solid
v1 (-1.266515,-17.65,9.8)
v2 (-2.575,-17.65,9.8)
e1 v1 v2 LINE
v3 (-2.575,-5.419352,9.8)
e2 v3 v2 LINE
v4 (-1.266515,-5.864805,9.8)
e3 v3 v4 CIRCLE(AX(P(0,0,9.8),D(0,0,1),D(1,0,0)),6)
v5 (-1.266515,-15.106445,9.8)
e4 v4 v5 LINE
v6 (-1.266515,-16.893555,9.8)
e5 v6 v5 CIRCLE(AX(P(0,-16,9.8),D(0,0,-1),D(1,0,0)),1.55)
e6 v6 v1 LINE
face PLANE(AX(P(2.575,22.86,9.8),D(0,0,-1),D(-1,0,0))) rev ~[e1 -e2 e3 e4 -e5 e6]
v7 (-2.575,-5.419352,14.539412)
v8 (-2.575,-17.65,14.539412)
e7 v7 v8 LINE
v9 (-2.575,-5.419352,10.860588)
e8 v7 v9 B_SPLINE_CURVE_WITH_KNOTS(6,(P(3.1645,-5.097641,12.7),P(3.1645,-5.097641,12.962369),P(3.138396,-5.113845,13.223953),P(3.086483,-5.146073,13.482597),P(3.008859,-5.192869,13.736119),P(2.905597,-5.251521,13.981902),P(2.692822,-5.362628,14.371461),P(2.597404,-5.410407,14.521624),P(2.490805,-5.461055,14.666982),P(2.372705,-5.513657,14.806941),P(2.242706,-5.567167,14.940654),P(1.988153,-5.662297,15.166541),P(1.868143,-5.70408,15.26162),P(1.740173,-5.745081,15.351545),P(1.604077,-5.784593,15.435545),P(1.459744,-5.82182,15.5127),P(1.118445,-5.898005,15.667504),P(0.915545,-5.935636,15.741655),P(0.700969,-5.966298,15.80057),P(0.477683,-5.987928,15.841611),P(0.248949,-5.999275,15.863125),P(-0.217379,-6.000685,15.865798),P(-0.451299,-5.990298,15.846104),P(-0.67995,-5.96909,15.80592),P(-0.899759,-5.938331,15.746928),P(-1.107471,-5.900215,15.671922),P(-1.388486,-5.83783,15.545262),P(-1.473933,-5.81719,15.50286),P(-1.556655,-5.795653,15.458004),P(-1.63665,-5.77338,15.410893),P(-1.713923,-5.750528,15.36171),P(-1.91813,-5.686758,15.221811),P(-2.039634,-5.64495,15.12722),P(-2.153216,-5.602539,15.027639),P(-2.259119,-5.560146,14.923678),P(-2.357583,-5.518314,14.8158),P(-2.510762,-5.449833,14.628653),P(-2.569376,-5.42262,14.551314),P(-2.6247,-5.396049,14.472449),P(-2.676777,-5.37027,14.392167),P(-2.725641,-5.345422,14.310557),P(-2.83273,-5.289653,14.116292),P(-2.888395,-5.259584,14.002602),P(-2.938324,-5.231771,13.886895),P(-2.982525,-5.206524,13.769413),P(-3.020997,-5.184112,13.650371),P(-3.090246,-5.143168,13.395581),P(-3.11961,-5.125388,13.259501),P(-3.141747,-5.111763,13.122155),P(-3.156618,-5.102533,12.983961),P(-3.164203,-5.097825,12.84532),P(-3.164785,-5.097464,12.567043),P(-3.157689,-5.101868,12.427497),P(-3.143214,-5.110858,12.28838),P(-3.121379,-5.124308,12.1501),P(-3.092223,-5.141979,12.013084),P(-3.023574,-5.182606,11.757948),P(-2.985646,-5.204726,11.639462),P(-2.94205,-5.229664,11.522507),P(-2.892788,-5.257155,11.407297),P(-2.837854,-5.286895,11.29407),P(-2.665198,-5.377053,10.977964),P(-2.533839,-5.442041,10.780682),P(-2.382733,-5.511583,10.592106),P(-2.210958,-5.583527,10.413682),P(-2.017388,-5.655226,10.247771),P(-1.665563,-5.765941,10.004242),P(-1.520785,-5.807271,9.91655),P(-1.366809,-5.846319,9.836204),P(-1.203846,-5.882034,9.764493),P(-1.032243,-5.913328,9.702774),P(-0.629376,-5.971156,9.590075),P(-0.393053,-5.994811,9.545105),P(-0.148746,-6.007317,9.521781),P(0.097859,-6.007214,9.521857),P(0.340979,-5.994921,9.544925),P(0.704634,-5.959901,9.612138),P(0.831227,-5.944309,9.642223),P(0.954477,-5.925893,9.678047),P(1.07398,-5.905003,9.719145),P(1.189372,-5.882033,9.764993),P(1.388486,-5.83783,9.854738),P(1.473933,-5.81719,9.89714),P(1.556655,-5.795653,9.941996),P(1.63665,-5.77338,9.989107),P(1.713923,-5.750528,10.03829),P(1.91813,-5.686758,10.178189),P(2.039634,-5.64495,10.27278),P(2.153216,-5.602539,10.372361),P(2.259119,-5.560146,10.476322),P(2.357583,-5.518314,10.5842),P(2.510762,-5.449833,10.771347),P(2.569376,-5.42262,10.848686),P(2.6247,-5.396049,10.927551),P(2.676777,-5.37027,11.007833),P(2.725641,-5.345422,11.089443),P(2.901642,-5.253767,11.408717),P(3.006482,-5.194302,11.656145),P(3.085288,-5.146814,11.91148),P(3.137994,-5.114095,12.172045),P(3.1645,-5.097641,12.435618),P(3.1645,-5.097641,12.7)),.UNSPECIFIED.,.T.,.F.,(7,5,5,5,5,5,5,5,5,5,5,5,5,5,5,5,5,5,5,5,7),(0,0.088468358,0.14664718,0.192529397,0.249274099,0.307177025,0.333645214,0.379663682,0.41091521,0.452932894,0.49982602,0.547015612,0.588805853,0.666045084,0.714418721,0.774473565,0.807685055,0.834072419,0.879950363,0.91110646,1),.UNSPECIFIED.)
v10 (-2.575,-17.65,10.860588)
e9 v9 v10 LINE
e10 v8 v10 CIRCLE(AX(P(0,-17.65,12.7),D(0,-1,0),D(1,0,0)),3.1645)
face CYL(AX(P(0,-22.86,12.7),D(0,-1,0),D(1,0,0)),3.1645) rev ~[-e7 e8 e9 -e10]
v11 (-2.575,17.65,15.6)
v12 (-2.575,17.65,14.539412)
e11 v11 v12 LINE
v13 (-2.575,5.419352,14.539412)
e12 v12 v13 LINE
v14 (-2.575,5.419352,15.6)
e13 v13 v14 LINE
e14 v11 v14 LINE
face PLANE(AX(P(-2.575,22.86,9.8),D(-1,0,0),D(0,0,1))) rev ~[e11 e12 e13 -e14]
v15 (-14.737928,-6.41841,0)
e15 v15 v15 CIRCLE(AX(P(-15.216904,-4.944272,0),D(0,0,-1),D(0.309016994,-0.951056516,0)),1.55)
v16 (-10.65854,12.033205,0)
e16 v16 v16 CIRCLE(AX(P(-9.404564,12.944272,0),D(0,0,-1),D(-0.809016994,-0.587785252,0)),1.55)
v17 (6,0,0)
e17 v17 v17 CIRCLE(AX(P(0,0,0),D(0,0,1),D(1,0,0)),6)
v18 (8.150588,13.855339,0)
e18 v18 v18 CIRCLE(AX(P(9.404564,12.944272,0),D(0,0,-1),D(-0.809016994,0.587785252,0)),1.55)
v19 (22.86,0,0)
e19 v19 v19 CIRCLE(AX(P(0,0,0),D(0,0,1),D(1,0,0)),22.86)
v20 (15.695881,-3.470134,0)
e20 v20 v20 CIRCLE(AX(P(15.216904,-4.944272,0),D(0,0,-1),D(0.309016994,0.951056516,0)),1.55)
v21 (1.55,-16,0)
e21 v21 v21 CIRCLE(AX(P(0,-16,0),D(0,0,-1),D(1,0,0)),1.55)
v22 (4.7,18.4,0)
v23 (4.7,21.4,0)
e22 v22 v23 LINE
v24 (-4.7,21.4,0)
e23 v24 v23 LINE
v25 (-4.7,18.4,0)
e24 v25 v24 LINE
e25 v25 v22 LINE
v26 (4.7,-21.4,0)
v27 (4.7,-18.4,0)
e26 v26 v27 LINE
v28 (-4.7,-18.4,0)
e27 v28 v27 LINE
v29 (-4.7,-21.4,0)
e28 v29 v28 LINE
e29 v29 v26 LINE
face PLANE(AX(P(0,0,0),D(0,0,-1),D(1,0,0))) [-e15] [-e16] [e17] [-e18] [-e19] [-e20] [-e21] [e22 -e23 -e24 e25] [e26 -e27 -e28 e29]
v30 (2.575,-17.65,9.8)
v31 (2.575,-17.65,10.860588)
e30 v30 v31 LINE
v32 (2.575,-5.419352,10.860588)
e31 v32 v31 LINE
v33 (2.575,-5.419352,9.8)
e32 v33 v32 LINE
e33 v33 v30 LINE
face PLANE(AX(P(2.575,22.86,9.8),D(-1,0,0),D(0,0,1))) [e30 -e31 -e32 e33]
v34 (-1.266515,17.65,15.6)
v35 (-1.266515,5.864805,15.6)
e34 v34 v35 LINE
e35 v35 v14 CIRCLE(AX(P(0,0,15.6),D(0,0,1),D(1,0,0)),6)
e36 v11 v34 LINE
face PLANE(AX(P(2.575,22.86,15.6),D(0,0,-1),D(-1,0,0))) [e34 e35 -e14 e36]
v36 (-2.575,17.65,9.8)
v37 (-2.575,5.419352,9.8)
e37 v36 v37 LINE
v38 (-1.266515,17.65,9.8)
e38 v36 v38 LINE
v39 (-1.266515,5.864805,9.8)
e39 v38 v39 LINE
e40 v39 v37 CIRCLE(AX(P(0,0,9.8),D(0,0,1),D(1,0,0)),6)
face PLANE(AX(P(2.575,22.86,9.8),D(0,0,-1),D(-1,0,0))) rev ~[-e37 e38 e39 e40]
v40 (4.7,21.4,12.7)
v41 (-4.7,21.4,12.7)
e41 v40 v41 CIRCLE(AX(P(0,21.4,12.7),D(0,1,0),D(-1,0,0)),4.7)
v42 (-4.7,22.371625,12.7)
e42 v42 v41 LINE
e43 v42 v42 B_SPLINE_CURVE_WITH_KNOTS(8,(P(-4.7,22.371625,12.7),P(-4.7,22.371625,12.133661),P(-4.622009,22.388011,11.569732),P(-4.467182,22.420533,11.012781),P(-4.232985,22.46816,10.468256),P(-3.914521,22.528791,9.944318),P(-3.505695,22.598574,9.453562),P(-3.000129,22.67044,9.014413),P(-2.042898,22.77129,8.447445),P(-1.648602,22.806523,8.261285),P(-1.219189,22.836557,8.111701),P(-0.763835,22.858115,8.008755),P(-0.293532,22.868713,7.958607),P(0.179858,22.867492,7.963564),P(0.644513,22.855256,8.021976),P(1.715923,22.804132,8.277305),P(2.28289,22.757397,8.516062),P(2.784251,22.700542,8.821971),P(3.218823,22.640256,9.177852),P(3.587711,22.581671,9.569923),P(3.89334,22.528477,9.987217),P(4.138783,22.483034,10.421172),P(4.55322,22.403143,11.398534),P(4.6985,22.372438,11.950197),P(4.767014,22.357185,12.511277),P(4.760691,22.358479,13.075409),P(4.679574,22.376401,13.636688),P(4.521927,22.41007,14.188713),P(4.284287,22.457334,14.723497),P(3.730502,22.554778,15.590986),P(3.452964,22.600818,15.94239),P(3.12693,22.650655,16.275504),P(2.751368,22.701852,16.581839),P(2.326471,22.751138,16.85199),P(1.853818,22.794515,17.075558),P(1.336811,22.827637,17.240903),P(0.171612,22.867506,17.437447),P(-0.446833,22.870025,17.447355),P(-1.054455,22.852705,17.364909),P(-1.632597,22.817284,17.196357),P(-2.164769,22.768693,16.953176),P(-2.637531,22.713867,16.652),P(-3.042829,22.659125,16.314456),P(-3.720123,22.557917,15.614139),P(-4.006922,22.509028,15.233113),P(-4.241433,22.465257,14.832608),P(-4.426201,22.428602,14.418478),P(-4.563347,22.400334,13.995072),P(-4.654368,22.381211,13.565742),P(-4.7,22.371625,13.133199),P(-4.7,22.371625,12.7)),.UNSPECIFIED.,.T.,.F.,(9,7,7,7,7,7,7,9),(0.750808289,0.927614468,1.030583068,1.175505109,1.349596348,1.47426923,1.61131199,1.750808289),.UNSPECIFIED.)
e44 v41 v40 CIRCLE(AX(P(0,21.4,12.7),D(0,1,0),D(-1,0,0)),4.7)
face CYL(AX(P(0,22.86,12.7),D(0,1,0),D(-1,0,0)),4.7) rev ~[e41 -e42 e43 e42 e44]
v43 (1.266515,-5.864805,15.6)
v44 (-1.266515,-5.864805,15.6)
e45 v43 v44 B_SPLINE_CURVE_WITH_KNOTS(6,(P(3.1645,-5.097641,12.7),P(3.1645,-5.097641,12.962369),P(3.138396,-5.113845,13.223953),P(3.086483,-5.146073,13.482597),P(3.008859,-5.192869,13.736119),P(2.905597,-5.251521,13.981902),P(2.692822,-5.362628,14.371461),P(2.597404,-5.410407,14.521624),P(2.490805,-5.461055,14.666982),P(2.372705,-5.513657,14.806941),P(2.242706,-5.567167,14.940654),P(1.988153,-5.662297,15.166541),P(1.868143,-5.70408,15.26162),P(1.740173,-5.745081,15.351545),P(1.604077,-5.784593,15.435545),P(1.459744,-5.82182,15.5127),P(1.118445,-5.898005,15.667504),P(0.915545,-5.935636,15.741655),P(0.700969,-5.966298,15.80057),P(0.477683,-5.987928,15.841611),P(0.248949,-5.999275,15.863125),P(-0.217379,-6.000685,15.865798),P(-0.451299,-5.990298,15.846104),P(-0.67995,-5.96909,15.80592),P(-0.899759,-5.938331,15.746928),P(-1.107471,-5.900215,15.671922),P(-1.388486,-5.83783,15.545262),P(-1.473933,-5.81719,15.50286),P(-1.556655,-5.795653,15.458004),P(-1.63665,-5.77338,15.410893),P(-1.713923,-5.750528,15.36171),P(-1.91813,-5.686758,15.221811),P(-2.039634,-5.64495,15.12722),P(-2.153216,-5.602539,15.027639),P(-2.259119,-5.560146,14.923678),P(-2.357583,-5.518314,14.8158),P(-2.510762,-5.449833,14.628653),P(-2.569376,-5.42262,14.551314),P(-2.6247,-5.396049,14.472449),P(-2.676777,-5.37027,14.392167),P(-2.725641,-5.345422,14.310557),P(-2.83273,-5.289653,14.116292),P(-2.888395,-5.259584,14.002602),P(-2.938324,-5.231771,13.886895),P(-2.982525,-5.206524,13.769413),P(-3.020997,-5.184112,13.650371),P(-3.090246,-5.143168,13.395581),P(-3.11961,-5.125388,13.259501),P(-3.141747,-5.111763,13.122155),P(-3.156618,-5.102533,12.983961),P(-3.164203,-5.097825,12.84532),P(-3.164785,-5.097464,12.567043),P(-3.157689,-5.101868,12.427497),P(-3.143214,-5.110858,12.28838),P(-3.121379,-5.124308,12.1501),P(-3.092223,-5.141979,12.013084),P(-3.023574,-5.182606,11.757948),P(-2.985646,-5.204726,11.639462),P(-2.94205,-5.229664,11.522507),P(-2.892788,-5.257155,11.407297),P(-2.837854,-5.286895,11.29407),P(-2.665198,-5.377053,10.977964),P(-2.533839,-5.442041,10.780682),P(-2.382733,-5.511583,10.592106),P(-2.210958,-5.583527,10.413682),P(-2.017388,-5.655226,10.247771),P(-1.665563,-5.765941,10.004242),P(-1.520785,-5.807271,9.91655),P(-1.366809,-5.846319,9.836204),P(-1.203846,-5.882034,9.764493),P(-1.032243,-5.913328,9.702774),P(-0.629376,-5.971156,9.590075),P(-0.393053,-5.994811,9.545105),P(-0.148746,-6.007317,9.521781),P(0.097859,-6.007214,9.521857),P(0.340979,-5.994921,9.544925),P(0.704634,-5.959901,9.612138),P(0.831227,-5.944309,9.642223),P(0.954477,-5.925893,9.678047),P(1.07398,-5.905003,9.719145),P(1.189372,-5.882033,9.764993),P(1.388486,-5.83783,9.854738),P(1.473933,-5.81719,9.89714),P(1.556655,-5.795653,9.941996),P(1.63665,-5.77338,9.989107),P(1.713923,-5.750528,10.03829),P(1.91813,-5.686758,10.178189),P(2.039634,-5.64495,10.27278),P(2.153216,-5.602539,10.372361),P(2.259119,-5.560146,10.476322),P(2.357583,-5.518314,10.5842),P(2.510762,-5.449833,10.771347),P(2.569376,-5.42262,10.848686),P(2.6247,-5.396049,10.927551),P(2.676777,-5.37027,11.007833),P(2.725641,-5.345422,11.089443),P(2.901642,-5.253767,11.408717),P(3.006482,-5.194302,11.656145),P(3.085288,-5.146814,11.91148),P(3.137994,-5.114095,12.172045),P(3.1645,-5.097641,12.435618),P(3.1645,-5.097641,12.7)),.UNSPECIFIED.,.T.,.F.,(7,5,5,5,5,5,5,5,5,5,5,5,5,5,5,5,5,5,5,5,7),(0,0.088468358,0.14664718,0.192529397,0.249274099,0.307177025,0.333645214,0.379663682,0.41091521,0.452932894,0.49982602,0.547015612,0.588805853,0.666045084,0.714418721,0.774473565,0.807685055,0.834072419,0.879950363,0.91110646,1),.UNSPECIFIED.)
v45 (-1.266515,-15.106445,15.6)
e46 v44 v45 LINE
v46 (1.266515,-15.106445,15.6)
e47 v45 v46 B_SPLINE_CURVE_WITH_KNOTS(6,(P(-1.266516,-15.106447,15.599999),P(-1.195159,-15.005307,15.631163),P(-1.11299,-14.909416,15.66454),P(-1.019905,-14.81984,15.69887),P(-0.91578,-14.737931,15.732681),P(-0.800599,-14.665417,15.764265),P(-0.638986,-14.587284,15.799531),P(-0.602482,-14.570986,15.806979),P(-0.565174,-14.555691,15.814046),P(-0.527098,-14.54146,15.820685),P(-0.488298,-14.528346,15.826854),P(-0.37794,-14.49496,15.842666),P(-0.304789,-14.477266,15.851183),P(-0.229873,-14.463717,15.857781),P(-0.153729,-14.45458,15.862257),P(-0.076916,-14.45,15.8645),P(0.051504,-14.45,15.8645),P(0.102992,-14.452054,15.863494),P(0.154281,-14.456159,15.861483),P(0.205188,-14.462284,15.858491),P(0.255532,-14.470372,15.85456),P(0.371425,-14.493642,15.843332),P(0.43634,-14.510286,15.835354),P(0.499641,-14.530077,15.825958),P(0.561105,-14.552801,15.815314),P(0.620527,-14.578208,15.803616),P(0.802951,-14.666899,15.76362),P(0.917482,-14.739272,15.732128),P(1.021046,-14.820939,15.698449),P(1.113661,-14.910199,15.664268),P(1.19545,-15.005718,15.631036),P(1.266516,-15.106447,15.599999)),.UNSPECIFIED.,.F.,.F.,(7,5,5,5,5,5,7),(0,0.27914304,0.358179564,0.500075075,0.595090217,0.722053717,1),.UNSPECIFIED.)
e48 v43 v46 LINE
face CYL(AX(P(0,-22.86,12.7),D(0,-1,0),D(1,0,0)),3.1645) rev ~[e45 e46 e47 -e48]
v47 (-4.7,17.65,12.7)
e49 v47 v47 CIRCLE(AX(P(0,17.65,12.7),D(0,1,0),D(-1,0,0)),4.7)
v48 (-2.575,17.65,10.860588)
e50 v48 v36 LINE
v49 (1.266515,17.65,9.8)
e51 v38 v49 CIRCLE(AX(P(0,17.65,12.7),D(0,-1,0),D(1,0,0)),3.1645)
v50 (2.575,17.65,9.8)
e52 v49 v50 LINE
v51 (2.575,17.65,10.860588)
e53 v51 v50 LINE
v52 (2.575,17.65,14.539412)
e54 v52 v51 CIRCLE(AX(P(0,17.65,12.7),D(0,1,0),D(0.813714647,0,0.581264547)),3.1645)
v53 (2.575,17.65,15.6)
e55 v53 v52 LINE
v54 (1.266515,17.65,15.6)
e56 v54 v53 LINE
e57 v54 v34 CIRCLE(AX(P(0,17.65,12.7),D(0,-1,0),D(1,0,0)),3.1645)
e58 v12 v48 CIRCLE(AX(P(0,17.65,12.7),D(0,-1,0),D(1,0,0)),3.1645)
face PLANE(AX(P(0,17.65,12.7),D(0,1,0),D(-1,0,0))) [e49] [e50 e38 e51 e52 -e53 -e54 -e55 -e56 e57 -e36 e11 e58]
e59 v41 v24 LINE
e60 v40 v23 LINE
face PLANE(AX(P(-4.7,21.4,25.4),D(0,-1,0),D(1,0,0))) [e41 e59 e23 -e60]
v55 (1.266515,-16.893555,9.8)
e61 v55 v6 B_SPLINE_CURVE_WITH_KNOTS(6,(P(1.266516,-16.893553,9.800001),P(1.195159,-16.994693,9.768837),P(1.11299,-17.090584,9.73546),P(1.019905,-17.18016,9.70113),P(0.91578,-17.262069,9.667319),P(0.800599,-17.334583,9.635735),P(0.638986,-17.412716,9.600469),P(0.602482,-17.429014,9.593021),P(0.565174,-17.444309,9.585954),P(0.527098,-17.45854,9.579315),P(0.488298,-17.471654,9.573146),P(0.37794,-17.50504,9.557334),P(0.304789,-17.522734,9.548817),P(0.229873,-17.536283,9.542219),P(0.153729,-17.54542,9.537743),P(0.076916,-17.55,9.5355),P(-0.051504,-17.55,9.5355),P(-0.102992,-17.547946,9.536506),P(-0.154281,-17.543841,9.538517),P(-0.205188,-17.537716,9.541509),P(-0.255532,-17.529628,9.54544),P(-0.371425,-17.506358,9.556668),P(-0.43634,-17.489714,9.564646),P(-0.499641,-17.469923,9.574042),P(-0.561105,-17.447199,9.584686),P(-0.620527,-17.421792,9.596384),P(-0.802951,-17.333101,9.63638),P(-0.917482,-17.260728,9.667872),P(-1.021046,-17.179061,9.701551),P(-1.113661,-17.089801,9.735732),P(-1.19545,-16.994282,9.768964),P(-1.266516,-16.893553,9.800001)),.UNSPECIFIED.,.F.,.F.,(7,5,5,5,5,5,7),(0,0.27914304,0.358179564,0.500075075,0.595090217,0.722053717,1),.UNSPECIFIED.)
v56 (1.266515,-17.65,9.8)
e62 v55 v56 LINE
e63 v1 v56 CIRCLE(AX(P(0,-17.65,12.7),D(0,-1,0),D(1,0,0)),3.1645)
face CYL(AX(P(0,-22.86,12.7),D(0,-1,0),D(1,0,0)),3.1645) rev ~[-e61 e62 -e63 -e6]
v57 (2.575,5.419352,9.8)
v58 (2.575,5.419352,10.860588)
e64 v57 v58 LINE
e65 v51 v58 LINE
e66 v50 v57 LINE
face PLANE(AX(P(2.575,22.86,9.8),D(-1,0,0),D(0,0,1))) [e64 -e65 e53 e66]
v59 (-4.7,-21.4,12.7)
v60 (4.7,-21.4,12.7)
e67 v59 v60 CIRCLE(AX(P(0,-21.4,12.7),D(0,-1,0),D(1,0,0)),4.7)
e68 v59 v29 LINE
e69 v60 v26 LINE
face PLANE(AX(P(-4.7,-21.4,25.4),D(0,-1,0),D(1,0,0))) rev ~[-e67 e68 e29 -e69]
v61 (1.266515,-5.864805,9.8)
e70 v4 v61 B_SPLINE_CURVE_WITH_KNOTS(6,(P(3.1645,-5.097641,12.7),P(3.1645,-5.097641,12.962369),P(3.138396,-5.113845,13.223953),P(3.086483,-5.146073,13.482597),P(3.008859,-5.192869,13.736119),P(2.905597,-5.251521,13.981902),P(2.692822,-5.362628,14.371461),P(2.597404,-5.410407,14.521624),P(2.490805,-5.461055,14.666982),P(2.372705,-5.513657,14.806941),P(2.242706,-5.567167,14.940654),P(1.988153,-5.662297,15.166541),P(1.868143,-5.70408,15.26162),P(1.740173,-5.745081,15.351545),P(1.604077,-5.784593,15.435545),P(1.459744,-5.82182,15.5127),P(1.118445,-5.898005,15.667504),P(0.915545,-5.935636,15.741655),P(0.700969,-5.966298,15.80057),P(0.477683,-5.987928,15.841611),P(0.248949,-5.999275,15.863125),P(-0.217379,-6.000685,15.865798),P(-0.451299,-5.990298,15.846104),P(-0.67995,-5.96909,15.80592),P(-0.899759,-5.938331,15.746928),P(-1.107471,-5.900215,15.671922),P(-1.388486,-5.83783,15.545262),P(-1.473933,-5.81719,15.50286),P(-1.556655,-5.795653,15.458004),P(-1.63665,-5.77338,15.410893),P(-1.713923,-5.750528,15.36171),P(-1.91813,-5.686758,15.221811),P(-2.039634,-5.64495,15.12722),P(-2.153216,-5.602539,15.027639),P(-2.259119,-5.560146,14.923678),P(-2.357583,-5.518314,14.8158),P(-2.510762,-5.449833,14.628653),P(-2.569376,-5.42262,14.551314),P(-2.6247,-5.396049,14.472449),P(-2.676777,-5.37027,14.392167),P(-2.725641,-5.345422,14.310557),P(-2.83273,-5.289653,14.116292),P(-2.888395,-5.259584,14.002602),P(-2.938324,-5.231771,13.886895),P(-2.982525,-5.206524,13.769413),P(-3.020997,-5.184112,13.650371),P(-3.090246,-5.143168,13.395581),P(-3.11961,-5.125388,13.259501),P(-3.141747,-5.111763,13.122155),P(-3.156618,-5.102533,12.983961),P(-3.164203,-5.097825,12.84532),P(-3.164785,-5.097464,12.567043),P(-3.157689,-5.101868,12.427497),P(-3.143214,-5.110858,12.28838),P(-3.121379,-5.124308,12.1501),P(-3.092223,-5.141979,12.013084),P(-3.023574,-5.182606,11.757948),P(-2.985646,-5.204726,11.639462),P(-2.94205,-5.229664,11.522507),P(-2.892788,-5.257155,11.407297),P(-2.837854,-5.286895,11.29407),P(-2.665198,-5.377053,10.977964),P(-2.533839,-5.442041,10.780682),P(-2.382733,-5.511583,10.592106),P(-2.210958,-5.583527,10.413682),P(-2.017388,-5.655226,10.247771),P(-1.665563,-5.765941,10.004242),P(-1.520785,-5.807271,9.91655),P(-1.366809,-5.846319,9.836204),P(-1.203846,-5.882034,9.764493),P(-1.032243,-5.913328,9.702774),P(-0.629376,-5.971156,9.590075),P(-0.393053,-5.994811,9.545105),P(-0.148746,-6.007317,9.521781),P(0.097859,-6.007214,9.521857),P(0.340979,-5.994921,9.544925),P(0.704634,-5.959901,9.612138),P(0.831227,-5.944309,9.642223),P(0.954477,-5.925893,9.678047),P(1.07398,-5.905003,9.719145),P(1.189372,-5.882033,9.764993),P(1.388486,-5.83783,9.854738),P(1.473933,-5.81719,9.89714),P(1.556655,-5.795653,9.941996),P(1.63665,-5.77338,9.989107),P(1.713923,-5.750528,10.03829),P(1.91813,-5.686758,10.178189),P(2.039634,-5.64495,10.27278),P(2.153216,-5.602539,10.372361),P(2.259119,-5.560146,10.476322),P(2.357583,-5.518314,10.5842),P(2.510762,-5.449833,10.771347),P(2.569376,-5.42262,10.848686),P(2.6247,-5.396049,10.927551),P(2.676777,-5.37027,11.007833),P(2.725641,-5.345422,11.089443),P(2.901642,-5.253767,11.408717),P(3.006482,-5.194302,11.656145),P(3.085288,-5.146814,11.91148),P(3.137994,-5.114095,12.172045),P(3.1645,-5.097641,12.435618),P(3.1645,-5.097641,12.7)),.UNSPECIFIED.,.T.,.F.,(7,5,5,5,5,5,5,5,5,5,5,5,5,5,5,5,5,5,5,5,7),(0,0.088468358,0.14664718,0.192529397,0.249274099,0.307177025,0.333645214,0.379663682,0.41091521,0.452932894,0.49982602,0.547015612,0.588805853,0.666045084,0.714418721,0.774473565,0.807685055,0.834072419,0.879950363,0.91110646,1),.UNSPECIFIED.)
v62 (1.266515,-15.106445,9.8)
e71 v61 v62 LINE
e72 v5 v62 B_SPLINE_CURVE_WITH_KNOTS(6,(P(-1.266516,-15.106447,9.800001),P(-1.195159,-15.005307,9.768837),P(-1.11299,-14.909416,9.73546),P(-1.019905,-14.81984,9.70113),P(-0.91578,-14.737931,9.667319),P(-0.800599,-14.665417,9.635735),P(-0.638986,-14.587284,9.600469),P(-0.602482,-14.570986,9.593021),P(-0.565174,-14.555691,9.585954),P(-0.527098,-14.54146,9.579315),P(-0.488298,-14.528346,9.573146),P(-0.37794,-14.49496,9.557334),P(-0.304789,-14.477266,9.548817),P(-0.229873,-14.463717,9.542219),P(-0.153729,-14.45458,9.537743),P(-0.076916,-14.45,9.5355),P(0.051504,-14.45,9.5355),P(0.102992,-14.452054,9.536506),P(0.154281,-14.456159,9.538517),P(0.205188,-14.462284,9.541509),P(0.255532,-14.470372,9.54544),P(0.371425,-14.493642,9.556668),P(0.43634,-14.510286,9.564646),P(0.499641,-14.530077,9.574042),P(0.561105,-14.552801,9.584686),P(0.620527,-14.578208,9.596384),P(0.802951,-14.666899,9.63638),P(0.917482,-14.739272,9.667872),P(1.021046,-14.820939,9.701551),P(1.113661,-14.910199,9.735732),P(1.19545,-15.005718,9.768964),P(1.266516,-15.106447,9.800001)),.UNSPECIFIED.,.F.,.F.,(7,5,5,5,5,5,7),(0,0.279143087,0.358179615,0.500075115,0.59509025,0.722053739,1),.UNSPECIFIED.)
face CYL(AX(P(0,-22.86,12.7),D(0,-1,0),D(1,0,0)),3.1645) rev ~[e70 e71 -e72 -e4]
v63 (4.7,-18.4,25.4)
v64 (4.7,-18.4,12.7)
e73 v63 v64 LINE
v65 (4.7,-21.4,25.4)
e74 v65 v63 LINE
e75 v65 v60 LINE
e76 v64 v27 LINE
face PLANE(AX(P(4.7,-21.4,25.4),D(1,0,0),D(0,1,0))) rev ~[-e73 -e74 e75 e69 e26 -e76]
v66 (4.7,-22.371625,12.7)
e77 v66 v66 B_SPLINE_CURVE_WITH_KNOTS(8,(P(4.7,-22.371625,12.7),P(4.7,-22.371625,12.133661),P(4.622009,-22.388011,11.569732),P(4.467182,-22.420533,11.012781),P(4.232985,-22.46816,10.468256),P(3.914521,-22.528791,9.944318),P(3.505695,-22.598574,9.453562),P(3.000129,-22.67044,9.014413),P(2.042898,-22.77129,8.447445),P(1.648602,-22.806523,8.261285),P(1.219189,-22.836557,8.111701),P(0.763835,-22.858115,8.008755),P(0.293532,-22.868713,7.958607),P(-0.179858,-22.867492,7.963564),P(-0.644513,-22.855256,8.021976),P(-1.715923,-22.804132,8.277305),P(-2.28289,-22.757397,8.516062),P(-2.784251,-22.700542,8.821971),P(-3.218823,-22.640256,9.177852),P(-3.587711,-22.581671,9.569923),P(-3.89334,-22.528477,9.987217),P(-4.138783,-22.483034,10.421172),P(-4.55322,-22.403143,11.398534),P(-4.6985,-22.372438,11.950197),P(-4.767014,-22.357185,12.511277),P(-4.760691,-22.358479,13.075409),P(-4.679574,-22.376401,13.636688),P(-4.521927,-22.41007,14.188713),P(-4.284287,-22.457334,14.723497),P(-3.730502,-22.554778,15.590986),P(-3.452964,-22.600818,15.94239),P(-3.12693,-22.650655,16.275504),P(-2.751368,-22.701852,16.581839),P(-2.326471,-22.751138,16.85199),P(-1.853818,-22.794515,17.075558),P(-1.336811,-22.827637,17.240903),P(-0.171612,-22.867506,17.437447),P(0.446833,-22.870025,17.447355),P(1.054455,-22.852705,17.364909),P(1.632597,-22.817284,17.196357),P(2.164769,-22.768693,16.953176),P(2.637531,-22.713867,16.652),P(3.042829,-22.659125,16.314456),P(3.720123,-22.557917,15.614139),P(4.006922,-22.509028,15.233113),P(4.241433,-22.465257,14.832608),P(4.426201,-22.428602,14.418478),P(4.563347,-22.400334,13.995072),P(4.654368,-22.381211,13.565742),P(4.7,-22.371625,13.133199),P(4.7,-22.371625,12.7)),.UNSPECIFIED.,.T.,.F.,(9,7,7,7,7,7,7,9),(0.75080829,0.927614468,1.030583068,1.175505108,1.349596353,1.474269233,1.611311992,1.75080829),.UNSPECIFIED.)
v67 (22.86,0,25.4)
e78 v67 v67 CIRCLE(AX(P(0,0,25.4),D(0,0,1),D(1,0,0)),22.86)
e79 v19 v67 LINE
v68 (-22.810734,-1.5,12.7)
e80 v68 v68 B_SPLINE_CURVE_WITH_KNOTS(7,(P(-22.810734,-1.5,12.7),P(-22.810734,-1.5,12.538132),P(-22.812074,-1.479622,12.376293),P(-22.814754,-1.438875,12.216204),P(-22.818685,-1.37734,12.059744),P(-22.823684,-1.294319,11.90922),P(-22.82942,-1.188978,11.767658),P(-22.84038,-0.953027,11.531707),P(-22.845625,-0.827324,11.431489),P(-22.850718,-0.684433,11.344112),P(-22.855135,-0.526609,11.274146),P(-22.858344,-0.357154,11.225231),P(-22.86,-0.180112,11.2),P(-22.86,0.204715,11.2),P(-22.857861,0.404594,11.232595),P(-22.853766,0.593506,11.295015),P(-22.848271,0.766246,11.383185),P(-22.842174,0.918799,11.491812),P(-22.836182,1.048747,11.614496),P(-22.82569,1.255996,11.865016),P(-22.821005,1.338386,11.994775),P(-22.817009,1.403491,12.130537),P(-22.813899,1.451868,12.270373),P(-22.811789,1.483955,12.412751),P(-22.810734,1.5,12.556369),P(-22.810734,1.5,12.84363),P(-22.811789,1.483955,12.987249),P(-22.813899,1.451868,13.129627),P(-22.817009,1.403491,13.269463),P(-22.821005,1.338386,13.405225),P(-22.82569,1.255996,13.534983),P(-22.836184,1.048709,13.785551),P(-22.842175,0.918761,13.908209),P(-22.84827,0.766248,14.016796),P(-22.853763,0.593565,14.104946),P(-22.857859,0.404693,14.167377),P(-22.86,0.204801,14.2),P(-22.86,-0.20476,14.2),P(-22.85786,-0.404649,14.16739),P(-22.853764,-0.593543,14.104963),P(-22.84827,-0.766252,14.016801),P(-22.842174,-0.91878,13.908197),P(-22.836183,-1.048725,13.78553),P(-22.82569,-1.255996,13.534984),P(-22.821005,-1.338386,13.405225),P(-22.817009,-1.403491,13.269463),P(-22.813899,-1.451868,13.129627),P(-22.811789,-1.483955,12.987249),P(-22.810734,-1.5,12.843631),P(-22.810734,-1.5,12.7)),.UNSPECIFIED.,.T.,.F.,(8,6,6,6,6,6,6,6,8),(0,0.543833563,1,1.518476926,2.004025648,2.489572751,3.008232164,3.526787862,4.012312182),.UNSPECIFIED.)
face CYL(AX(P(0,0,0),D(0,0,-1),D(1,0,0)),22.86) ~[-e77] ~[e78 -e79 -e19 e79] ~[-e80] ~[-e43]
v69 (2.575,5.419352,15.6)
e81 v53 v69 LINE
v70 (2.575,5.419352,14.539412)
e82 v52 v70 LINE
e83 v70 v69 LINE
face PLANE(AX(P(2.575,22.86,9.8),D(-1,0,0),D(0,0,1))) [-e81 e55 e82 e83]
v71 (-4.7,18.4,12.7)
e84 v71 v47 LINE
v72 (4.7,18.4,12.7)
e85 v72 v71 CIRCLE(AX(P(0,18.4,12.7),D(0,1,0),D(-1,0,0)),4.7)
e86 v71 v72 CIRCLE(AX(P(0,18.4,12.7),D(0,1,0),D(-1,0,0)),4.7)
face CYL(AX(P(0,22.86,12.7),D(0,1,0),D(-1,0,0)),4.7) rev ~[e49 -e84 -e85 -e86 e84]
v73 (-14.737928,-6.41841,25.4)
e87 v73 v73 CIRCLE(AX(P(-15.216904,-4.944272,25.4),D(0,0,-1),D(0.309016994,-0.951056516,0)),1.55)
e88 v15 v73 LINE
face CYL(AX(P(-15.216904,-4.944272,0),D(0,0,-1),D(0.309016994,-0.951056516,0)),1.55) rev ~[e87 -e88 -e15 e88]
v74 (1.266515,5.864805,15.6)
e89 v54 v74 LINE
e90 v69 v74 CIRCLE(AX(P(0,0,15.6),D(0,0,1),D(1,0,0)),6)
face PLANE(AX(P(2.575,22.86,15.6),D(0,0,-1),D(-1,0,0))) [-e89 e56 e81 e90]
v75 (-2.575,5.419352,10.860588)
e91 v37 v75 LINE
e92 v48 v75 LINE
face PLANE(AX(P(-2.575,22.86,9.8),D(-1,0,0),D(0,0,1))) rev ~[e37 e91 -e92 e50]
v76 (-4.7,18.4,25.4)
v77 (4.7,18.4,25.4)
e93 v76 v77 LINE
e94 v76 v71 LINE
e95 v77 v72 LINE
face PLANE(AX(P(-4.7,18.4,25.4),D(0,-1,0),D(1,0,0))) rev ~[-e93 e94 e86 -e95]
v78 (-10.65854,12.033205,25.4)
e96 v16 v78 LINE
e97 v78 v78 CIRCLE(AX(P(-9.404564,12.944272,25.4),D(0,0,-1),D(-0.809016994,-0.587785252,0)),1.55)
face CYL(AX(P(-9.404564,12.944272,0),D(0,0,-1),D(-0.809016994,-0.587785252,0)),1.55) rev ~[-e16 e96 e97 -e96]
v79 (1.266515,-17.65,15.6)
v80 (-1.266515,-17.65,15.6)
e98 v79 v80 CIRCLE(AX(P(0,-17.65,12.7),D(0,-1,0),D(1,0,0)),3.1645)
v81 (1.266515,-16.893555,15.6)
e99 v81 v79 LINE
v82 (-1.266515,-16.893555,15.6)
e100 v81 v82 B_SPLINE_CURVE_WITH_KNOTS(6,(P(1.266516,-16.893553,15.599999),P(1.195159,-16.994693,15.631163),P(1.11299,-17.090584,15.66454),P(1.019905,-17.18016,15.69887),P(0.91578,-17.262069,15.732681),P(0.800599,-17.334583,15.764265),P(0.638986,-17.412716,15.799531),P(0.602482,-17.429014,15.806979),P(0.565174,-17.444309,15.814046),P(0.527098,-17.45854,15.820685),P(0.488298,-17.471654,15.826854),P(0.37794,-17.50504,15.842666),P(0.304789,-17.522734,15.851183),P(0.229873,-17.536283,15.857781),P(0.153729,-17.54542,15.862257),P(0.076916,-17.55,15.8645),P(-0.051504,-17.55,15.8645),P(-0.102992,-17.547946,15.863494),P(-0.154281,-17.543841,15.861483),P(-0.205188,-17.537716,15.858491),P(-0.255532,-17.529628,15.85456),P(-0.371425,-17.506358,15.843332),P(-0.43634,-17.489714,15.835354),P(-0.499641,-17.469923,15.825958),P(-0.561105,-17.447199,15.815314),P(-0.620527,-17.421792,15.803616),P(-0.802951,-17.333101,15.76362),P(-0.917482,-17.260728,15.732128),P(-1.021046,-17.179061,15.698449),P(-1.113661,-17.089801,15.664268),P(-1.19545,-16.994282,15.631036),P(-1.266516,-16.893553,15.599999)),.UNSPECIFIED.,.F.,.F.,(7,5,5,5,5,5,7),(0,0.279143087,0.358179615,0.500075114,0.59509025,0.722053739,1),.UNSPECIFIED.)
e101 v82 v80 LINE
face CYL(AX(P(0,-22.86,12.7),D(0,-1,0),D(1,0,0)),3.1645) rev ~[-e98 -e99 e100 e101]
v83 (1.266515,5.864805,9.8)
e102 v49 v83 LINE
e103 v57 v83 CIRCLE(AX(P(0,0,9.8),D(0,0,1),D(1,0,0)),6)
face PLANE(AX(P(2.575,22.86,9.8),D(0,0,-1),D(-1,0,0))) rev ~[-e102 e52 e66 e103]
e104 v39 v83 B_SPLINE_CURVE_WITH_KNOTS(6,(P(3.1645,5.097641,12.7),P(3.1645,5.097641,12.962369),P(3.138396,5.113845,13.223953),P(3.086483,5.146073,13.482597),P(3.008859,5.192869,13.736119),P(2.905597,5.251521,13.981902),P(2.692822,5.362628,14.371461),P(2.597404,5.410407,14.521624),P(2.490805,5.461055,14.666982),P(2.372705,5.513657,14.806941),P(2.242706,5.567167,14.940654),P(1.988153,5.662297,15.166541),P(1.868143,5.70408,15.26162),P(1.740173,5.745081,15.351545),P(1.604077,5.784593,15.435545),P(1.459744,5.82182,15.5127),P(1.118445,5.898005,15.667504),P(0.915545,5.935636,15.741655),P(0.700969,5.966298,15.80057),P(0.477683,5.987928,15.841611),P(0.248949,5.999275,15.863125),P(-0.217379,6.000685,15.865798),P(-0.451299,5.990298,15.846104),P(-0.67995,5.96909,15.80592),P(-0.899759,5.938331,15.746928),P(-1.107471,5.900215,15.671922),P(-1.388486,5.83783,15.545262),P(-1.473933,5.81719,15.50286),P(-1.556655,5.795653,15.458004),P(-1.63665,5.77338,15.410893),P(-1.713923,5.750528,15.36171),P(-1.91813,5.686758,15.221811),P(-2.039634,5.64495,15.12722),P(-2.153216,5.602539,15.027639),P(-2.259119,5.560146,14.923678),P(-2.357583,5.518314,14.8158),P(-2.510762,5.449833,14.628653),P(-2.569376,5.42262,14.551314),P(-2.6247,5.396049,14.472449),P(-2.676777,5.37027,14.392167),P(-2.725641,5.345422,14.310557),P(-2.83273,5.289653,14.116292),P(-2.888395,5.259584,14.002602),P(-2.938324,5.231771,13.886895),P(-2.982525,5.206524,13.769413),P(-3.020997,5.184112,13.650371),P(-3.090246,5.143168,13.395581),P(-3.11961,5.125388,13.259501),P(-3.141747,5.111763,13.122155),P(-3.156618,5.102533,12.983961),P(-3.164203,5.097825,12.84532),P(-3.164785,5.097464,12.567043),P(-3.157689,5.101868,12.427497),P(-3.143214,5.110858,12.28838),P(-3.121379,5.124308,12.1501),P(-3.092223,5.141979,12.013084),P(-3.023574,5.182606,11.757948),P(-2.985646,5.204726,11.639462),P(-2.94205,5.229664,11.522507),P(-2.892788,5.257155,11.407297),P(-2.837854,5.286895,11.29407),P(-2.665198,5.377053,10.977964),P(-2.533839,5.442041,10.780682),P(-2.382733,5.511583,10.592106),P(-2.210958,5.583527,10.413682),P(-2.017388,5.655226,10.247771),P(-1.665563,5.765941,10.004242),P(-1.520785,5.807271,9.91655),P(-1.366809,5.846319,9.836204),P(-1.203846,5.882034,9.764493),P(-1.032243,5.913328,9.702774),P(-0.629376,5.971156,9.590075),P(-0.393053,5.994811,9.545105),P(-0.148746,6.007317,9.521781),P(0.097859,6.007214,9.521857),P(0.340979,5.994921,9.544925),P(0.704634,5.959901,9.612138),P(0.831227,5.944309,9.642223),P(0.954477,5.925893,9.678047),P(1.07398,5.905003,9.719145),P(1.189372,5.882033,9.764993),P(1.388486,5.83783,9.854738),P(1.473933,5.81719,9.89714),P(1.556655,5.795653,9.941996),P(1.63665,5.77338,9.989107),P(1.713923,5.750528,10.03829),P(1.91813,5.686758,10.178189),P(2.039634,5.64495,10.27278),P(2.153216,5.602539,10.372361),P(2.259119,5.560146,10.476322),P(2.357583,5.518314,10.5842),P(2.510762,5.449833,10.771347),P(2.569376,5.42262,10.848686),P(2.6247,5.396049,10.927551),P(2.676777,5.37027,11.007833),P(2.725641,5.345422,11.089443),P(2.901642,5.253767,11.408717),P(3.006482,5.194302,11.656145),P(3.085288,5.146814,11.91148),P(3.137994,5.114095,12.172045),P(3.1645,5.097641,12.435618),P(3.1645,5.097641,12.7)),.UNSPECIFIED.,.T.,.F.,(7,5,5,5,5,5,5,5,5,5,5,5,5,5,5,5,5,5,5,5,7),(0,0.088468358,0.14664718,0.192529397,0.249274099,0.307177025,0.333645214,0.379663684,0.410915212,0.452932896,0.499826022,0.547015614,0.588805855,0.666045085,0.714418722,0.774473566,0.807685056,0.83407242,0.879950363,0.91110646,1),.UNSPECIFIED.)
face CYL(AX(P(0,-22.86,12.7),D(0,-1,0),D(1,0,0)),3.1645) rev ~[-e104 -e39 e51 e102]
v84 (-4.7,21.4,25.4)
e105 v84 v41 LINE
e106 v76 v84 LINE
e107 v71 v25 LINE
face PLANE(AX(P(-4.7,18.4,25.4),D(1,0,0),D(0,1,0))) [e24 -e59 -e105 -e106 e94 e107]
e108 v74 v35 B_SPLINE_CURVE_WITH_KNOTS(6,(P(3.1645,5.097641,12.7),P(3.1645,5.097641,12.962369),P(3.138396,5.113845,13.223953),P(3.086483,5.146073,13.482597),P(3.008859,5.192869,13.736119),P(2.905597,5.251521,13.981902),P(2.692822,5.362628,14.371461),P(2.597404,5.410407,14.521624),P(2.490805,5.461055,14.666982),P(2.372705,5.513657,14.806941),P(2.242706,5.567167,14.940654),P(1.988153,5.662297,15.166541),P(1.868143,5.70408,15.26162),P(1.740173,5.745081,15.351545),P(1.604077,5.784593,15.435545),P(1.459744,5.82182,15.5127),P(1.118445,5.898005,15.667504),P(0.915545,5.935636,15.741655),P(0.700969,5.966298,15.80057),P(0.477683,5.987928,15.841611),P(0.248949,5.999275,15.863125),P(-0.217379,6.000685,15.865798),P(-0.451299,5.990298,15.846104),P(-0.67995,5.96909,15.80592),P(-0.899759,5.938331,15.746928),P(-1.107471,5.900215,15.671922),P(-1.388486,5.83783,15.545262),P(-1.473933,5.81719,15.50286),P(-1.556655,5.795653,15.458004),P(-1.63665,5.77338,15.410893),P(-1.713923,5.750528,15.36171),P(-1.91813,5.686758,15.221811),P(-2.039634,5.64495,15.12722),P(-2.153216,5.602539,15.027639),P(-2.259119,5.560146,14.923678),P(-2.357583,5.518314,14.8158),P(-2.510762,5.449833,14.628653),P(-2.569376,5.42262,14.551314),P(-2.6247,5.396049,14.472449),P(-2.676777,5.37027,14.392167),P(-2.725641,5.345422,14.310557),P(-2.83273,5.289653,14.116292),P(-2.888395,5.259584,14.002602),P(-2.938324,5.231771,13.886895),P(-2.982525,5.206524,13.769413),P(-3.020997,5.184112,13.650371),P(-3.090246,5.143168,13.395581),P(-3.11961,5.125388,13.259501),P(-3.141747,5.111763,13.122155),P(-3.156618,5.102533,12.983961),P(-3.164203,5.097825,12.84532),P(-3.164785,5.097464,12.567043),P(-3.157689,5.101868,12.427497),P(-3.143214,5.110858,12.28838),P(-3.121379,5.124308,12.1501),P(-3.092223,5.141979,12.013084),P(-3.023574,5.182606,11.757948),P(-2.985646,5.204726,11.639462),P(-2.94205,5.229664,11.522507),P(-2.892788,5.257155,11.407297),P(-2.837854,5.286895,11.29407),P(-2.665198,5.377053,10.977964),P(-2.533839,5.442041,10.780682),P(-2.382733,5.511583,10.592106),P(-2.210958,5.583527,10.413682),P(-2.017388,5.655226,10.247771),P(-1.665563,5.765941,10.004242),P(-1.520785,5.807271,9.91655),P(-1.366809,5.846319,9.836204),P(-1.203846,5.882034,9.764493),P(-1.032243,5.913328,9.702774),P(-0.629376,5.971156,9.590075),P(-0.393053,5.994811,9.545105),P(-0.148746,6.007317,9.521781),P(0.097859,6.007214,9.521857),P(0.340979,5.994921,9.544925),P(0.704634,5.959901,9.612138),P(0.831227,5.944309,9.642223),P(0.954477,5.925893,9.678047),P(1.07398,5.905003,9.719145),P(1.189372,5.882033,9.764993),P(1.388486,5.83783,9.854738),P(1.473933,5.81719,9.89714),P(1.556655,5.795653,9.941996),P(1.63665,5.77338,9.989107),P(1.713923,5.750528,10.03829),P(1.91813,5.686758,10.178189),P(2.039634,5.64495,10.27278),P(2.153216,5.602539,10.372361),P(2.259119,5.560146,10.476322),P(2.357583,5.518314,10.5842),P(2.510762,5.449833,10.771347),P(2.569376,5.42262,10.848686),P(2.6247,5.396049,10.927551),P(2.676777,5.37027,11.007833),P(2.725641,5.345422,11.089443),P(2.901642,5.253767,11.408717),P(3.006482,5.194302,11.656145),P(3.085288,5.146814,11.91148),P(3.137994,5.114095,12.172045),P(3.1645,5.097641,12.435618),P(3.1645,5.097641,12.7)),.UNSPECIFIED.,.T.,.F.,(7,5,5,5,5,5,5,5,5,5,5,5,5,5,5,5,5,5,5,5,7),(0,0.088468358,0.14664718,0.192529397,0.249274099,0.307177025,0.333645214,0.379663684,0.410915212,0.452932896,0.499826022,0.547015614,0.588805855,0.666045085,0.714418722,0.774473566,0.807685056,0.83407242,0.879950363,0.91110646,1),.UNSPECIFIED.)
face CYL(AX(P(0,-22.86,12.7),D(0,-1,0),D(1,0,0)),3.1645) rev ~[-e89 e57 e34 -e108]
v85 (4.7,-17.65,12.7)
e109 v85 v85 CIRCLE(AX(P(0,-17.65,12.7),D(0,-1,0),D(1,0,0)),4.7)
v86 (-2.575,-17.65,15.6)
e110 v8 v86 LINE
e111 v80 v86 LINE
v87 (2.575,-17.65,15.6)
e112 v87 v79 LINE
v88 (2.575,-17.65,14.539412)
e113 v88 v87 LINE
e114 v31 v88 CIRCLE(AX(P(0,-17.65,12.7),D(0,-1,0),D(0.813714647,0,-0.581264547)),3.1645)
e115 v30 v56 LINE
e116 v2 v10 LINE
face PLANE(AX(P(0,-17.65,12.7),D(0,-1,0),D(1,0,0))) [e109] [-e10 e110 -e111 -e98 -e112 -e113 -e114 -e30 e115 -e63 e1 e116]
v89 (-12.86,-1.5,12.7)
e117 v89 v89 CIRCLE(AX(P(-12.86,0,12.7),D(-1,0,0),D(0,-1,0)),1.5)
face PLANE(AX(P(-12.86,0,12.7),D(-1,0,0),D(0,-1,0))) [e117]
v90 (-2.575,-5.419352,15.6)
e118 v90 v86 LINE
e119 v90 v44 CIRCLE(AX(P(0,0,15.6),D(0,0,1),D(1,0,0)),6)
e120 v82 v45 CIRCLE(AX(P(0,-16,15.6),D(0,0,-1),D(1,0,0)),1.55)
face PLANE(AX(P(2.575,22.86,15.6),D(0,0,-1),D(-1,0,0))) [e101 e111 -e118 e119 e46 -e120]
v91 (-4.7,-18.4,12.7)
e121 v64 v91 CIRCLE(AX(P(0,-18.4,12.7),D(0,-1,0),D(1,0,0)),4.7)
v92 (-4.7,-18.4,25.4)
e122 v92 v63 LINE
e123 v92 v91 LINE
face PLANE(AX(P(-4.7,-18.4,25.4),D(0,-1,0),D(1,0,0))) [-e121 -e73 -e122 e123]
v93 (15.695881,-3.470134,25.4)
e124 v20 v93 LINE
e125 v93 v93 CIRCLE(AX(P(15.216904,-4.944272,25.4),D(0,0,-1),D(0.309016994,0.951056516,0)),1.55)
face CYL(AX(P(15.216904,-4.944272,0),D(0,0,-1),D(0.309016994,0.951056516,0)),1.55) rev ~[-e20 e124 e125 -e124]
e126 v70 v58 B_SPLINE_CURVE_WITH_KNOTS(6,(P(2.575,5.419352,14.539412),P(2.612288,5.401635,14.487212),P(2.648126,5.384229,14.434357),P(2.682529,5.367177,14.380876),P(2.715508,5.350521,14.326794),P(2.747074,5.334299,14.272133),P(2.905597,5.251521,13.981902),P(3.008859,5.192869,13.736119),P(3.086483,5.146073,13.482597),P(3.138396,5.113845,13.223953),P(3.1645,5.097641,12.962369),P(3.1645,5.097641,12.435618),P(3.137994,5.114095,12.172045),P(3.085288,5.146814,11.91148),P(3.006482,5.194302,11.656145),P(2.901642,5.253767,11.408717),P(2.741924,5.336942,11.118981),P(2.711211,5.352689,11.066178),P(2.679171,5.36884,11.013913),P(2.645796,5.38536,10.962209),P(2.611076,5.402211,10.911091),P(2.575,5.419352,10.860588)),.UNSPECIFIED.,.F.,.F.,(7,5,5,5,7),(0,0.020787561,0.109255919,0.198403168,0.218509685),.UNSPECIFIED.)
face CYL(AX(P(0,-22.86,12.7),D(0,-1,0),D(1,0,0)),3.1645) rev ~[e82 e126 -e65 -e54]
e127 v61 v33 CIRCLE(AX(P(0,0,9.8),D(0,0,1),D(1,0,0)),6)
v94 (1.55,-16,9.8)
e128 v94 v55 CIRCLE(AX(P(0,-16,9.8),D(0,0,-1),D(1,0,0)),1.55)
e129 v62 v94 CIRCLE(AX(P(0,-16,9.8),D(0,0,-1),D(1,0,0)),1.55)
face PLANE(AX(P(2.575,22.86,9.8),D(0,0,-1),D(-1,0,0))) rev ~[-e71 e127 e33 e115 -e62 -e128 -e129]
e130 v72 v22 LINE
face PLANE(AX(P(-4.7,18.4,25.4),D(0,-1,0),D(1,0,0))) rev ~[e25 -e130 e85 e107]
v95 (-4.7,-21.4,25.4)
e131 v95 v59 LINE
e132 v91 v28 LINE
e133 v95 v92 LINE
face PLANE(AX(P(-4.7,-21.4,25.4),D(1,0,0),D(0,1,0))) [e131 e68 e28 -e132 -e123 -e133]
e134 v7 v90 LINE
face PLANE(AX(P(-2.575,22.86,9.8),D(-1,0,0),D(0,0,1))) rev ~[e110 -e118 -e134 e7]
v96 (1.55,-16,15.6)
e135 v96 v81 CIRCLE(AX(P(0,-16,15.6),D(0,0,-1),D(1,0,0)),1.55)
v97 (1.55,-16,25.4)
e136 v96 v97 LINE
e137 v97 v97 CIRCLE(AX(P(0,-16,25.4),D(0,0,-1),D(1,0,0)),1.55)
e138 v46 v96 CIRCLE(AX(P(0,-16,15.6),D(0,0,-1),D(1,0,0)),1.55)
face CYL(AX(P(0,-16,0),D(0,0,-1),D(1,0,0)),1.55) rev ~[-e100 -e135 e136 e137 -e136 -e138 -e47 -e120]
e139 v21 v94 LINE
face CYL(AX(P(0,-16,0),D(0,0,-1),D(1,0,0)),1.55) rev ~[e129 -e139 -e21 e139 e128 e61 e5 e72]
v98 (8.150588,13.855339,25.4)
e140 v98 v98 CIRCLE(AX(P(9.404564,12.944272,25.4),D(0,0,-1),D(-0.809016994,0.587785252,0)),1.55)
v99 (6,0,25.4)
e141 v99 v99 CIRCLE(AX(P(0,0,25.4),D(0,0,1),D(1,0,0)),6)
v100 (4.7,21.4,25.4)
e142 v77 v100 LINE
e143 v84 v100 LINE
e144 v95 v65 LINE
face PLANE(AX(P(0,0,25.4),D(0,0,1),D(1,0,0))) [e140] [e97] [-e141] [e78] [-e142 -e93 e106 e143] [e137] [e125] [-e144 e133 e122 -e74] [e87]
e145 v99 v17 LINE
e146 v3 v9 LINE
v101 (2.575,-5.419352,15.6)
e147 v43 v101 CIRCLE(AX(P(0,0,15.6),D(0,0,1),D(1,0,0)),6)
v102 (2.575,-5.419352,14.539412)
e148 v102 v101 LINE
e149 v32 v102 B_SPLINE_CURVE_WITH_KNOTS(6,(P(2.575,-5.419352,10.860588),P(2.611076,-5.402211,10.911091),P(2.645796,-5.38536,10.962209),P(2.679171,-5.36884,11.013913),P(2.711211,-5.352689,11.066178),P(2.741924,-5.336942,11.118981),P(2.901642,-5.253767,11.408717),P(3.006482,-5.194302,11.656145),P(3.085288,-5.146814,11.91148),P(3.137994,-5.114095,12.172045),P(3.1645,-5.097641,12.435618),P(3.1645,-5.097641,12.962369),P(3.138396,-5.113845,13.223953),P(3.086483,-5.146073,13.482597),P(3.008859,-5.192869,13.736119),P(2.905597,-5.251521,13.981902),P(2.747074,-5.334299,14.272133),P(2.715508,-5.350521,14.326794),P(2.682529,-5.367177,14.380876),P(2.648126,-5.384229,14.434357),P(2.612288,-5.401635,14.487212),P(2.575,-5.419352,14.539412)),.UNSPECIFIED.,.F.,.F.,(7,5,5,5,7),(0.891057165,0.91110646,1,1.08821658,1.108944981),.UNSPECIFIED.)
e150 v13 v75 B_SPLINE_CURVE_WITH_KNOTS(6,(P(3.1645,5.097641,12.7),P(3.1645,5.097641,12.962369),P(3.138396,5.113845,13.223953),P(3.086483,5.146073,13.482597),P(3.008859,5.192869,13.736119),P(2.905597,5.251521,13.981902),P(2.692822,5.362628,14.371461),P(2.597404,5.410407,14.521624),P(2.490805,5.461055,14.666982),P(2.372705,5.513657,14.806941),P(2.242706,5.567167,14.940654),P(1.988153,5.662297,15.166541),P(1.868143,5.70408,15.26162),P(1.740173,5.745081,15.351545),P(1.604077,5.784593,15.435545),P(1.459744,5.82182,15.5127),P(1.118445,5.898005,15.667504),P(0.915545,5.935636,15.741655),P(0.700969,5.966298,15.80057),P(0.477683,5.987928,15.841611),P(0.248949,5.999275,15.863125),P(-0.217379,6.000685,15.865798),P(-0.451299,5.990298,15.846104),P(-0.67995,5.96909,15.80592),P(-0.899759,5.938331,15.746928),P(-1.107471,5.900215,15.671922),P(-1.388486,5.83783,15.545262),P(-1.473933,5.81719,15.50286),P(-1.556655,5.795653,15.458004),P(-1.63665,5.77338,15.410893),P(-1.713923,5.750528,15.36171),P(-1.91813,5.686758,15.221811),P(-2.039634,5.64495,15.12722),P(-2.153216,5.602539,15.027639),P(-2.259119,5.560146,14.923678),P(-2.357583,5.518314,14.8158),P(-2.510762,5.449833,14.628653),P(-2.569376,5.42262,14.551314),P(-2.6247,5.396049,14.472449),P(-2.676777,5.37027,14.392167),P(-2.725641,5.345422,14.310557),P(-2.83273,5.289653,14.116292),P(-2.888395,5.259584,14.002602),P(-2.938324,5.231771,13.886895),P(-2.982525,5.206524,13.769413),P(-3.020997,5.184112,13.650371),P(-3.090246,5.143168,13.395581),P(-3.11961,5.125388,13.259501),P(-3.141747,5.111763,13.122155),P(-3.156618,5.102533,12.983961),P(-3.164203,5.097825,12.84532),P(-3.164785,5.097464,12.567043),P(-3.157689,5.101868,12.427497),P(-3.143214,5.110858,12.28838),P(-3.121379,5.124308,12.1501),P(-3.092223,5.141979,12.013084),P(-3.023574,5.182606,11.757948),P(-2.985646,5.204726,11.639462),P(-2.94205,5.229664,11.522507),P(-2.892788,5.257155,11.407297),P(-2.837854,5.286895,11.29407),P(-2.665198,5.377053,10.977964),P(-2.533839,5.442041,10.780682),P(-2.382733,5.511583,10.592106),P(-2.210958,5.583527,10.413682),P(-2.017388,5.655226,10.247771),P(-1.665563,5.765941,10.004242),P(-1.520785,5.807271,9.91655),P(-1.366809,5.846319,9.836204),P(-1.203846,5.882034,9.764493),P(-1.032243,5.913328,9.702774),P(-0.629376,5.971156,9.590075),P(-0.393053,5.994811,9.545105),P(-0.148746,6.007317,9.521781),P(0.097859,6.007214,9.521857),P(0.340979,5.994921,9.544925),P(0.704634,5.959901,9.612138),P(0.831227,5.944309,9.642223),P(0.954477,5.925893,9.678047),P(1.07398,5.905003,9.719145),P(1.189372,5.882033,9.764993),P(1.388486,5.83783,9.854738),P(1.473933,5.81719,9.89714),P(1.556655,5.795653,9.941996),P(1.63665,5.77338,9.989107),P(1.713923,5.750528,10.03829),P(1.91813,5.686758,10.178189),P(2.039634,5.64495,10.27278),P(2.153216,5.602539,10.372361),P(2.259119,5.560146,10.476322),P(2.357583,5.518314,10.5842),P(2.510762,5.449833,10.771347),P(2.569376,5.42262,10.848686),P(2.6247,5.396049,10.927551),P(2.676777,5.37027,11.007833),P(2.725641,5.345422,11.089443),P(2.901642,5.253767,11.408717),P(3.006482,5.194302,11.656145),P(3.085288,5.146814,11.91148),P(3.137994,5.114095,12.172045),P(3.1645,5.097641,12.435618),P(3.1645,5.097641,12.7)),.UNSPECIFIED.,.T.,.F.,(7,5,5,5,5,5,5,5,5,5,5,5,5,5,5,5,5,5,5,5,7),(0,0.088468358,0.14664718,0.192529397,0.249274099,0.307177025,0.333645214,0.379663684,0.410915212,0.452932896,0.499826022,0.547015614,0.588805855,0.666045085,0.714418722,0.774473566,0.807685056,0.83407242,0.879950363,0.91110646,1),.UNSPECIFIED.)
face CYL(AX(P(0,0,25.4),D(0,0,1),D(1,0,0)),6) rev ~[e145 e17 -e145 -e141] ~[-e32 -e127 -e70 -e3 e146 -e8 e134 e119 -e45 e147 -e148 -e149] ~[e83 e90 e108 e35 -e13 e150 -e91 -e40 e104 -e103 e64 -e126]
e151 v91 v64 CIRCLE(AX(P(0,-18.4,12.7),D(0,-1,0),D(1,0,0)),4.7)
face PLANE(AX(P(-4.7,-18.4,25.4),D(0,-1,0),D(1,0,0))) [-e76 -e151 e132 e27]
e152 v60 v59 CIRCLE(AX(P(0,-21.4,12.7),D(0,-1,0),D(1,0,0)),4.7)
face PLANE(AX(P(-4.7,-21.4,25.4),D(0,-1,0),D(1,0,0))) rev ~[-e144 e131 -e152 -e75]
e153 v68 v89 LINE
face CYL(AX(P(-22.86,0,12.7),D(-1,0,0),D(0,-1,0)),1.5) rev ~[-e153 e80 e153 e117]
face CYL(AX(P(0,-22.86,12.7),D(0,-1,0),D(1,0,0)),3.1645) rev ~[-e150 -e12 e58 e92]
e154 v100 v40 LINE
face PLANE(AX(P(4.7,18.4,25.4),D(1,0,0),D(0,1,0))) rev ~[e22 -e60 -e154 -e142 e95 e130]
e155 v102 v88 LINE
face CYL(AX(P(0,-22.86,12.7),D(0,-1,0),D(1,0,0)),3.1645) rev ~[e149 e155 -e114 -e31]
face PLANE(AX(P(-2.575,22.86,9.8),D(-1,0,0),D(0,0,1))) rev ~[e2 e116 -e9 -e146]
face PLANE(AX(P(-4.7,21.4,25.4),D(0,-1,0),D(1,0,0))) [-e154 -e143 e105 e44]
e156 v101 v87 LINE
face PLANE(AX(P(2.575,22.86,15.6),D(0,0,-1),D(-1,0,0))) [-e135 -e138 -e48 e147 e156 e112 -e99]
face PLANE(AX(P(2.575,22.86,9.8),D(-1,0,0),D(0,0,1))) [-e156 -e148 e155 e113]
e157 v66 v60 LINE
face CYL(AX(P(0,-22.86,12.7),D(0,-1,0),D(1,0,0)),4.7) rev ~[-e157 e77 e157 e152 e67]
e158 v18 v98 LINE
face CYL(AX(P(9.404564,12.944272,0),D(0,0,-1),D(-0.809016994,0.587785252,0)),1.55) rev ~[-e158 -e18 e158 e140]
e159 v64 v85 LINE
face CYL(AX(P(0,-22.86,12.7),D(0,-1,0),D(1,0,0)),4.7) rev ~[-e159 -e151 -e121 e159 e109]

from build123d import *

# Parameters (mm, degrees)
SKETCH019_R           = 22.86
PAD003_DEPTH          = 25.4
SKETCH021_R           = 1.55
POCKET017_DEPTH       = 164.33691
POLARPATTERN007_COUNT = 5
SKETCH022_W           = 45.72
SKETCH022_H           = 45.72
PAD004_DEPTH          = 10
SKETCH023_W           = 5.15
SKETCH023_H           = 5.8
POCKET018_DEPTH       = 45.721
SKETCH025_R           = 4.7
POCKET020_DEPTH       = 5.21
SKETCH028_R           = 6
POCKET023_DEPTH       = 35.401
SKETCH027_R           = 1.5
POCKET024_DEPTH       = 10
SKETCH029_R           = 4.7
POCKET025_DEPTH       = 5.21
SKETCH031_W           = 9.4
SKETCH031_H           = 3
POCKET027_DEPTH       = 35.401
SKETCH034_R           = 3.1645
POCKET029_DEPTH       = 45.721
SKETCH030_W           = 45.72
SKETCH030_H           = 45.72
POCKET030_DEPTH       = 10


with BuildPart() as part:
    # Sketch019 → Pad003 (new body)
    with BuildSketch(Plane.XY):
        Circle(SKETCH019_R)
    extrude(amount=PAD003_DEPTH)

    # Sketch021 → Pocket017 (cut, through all)
    with BuildSketch(Plane(origin=(0, 0, 0), x_dir=(1, 0, 0), z_dir=(0, 0, -1))):
        with Locations((0, 16)):
            Circle(SKETCH021_R)
    pocket017 = extrude(amount=-POCKET017_DEPTH, mode=Mode.SUBTRACT)

    # PolarPattern007: Pocket017 ×5 about axis
    polarpattern007_axis = Axis((0, 0, 0), (0, 0, -1))
    for i in range(1, POLARPATTERN007_COUNT):
        add(pocket017.rotate(polarpattern007_axis, i * 360 / POLARPATTERN007_COUNT), mode=Mode.SUBTRACT)

    # Sketch022 (on Face2 of PolarPattern007) → Pad004 (join)
    with BuildSketch(Plane(origin=(0, 0, 0), x_dir=(1, 0, 0), z_dir=(0, 0, -1))):
        Rectangle(SKETCH022_W, SKETCH022_H)
    extrude(amount=PAD004_DEPTH)

    # Sketch023 (on Face7 of Pad004) → Pocket018 (cut, through all)
    with BuildSketch(Plane(origin=(0, 22.86, 0), x_dir=(-1, 0, 0), z_dir=(0, 1, 0))):
        with Locations((0, 12.7)):
            Rectangle(SKETCH023_W, SKETCH023_H)
    extrude(amount=-POCKET018_DEPTH, mode=Mode.SUBTRACT)

    # Sketch025 → Pocket020 (cut)
    with BuildSketch(Plane.XZ.offset(22.86)):
        with Locations((0, 12.7)):
            Circle(SKETCH025_R)
    extrude(amount=-POCKET020_DEPTH, mode=Mode.SUBTRACT)

    # Sketch028 → Pocket023 (cut, through all)
    with BuildSketch(Plane.XY.offset(25.4)):
        Circle(SKETCH028_R)
    extrude(amount=-POCKET023_DEPTH, mode=Mode.SUBTRACT)

    # Sketch027 (on Face14 of Pocket023) → Pocket024 (cut)
    with BuildSketch(Plane(origin=(-22.86, 0, 0), x_dir=(0, -1, 0), z_dir=(-1, 0, 0))):
        with Locations((0, 12.7)):
            Circle(SKETCH027_R)
    extrude(amount=-POCKET024_DEPTH, mode=Mode.SUBTRACT)

    # Sketch029 (on Face19 of Pocket024) → Pocket025 (cut)
    with BuildSketch(Plane(origin=(0, 22.86, 0), x_dir=(-1, 0, 0), z_dir=(0, 1, 0))):
        with Locations((0, 12.7)):
            Circle(SKETCH029_R)
    extrude(amount=-POCKET025_DEPTH, mode=Mode.SUBTRACT)

    # Sketch031 → Pocket027 (cut, through all)
    with BuildSketch(Plane.XY.offset(25.4)):
        with Locations((0, 19.9)):
            Rectangle(SKETCH031_W, SKETCH031_H)
        with Locations((0, -19.9)):
            Rectangle(SKETCH031_W, SKETCH031_H)
    extrude(amount=-POCKET027_DEPTH, mode=Mode.SUBTRACT)

    # Sketch034 → Pocket029 (cut, through all)
    with BuildSketch(Plane.XZ.offset(22.86)):
        with Locations((0, 12.7)):
            Circle(SKETCH034_R)
    extrude(amount=-POCKET029_DEPTH, mode=Mode.SUBTRACT)

    # Sketch030 (on Face31 of Pocket029) → Pocket030 (cut)
    with BuildSketch(Plane(origin=(0, 0, -10), x_dir=(1, 0, 0), z_dir=(0, 0, -1))):
        Rectangle(SKETCH030_W, SKETCH030_H)
    extrude(amount=-POCKET030_DEPTH, mode=Mode.SUBTRACT)


solid = part.part
